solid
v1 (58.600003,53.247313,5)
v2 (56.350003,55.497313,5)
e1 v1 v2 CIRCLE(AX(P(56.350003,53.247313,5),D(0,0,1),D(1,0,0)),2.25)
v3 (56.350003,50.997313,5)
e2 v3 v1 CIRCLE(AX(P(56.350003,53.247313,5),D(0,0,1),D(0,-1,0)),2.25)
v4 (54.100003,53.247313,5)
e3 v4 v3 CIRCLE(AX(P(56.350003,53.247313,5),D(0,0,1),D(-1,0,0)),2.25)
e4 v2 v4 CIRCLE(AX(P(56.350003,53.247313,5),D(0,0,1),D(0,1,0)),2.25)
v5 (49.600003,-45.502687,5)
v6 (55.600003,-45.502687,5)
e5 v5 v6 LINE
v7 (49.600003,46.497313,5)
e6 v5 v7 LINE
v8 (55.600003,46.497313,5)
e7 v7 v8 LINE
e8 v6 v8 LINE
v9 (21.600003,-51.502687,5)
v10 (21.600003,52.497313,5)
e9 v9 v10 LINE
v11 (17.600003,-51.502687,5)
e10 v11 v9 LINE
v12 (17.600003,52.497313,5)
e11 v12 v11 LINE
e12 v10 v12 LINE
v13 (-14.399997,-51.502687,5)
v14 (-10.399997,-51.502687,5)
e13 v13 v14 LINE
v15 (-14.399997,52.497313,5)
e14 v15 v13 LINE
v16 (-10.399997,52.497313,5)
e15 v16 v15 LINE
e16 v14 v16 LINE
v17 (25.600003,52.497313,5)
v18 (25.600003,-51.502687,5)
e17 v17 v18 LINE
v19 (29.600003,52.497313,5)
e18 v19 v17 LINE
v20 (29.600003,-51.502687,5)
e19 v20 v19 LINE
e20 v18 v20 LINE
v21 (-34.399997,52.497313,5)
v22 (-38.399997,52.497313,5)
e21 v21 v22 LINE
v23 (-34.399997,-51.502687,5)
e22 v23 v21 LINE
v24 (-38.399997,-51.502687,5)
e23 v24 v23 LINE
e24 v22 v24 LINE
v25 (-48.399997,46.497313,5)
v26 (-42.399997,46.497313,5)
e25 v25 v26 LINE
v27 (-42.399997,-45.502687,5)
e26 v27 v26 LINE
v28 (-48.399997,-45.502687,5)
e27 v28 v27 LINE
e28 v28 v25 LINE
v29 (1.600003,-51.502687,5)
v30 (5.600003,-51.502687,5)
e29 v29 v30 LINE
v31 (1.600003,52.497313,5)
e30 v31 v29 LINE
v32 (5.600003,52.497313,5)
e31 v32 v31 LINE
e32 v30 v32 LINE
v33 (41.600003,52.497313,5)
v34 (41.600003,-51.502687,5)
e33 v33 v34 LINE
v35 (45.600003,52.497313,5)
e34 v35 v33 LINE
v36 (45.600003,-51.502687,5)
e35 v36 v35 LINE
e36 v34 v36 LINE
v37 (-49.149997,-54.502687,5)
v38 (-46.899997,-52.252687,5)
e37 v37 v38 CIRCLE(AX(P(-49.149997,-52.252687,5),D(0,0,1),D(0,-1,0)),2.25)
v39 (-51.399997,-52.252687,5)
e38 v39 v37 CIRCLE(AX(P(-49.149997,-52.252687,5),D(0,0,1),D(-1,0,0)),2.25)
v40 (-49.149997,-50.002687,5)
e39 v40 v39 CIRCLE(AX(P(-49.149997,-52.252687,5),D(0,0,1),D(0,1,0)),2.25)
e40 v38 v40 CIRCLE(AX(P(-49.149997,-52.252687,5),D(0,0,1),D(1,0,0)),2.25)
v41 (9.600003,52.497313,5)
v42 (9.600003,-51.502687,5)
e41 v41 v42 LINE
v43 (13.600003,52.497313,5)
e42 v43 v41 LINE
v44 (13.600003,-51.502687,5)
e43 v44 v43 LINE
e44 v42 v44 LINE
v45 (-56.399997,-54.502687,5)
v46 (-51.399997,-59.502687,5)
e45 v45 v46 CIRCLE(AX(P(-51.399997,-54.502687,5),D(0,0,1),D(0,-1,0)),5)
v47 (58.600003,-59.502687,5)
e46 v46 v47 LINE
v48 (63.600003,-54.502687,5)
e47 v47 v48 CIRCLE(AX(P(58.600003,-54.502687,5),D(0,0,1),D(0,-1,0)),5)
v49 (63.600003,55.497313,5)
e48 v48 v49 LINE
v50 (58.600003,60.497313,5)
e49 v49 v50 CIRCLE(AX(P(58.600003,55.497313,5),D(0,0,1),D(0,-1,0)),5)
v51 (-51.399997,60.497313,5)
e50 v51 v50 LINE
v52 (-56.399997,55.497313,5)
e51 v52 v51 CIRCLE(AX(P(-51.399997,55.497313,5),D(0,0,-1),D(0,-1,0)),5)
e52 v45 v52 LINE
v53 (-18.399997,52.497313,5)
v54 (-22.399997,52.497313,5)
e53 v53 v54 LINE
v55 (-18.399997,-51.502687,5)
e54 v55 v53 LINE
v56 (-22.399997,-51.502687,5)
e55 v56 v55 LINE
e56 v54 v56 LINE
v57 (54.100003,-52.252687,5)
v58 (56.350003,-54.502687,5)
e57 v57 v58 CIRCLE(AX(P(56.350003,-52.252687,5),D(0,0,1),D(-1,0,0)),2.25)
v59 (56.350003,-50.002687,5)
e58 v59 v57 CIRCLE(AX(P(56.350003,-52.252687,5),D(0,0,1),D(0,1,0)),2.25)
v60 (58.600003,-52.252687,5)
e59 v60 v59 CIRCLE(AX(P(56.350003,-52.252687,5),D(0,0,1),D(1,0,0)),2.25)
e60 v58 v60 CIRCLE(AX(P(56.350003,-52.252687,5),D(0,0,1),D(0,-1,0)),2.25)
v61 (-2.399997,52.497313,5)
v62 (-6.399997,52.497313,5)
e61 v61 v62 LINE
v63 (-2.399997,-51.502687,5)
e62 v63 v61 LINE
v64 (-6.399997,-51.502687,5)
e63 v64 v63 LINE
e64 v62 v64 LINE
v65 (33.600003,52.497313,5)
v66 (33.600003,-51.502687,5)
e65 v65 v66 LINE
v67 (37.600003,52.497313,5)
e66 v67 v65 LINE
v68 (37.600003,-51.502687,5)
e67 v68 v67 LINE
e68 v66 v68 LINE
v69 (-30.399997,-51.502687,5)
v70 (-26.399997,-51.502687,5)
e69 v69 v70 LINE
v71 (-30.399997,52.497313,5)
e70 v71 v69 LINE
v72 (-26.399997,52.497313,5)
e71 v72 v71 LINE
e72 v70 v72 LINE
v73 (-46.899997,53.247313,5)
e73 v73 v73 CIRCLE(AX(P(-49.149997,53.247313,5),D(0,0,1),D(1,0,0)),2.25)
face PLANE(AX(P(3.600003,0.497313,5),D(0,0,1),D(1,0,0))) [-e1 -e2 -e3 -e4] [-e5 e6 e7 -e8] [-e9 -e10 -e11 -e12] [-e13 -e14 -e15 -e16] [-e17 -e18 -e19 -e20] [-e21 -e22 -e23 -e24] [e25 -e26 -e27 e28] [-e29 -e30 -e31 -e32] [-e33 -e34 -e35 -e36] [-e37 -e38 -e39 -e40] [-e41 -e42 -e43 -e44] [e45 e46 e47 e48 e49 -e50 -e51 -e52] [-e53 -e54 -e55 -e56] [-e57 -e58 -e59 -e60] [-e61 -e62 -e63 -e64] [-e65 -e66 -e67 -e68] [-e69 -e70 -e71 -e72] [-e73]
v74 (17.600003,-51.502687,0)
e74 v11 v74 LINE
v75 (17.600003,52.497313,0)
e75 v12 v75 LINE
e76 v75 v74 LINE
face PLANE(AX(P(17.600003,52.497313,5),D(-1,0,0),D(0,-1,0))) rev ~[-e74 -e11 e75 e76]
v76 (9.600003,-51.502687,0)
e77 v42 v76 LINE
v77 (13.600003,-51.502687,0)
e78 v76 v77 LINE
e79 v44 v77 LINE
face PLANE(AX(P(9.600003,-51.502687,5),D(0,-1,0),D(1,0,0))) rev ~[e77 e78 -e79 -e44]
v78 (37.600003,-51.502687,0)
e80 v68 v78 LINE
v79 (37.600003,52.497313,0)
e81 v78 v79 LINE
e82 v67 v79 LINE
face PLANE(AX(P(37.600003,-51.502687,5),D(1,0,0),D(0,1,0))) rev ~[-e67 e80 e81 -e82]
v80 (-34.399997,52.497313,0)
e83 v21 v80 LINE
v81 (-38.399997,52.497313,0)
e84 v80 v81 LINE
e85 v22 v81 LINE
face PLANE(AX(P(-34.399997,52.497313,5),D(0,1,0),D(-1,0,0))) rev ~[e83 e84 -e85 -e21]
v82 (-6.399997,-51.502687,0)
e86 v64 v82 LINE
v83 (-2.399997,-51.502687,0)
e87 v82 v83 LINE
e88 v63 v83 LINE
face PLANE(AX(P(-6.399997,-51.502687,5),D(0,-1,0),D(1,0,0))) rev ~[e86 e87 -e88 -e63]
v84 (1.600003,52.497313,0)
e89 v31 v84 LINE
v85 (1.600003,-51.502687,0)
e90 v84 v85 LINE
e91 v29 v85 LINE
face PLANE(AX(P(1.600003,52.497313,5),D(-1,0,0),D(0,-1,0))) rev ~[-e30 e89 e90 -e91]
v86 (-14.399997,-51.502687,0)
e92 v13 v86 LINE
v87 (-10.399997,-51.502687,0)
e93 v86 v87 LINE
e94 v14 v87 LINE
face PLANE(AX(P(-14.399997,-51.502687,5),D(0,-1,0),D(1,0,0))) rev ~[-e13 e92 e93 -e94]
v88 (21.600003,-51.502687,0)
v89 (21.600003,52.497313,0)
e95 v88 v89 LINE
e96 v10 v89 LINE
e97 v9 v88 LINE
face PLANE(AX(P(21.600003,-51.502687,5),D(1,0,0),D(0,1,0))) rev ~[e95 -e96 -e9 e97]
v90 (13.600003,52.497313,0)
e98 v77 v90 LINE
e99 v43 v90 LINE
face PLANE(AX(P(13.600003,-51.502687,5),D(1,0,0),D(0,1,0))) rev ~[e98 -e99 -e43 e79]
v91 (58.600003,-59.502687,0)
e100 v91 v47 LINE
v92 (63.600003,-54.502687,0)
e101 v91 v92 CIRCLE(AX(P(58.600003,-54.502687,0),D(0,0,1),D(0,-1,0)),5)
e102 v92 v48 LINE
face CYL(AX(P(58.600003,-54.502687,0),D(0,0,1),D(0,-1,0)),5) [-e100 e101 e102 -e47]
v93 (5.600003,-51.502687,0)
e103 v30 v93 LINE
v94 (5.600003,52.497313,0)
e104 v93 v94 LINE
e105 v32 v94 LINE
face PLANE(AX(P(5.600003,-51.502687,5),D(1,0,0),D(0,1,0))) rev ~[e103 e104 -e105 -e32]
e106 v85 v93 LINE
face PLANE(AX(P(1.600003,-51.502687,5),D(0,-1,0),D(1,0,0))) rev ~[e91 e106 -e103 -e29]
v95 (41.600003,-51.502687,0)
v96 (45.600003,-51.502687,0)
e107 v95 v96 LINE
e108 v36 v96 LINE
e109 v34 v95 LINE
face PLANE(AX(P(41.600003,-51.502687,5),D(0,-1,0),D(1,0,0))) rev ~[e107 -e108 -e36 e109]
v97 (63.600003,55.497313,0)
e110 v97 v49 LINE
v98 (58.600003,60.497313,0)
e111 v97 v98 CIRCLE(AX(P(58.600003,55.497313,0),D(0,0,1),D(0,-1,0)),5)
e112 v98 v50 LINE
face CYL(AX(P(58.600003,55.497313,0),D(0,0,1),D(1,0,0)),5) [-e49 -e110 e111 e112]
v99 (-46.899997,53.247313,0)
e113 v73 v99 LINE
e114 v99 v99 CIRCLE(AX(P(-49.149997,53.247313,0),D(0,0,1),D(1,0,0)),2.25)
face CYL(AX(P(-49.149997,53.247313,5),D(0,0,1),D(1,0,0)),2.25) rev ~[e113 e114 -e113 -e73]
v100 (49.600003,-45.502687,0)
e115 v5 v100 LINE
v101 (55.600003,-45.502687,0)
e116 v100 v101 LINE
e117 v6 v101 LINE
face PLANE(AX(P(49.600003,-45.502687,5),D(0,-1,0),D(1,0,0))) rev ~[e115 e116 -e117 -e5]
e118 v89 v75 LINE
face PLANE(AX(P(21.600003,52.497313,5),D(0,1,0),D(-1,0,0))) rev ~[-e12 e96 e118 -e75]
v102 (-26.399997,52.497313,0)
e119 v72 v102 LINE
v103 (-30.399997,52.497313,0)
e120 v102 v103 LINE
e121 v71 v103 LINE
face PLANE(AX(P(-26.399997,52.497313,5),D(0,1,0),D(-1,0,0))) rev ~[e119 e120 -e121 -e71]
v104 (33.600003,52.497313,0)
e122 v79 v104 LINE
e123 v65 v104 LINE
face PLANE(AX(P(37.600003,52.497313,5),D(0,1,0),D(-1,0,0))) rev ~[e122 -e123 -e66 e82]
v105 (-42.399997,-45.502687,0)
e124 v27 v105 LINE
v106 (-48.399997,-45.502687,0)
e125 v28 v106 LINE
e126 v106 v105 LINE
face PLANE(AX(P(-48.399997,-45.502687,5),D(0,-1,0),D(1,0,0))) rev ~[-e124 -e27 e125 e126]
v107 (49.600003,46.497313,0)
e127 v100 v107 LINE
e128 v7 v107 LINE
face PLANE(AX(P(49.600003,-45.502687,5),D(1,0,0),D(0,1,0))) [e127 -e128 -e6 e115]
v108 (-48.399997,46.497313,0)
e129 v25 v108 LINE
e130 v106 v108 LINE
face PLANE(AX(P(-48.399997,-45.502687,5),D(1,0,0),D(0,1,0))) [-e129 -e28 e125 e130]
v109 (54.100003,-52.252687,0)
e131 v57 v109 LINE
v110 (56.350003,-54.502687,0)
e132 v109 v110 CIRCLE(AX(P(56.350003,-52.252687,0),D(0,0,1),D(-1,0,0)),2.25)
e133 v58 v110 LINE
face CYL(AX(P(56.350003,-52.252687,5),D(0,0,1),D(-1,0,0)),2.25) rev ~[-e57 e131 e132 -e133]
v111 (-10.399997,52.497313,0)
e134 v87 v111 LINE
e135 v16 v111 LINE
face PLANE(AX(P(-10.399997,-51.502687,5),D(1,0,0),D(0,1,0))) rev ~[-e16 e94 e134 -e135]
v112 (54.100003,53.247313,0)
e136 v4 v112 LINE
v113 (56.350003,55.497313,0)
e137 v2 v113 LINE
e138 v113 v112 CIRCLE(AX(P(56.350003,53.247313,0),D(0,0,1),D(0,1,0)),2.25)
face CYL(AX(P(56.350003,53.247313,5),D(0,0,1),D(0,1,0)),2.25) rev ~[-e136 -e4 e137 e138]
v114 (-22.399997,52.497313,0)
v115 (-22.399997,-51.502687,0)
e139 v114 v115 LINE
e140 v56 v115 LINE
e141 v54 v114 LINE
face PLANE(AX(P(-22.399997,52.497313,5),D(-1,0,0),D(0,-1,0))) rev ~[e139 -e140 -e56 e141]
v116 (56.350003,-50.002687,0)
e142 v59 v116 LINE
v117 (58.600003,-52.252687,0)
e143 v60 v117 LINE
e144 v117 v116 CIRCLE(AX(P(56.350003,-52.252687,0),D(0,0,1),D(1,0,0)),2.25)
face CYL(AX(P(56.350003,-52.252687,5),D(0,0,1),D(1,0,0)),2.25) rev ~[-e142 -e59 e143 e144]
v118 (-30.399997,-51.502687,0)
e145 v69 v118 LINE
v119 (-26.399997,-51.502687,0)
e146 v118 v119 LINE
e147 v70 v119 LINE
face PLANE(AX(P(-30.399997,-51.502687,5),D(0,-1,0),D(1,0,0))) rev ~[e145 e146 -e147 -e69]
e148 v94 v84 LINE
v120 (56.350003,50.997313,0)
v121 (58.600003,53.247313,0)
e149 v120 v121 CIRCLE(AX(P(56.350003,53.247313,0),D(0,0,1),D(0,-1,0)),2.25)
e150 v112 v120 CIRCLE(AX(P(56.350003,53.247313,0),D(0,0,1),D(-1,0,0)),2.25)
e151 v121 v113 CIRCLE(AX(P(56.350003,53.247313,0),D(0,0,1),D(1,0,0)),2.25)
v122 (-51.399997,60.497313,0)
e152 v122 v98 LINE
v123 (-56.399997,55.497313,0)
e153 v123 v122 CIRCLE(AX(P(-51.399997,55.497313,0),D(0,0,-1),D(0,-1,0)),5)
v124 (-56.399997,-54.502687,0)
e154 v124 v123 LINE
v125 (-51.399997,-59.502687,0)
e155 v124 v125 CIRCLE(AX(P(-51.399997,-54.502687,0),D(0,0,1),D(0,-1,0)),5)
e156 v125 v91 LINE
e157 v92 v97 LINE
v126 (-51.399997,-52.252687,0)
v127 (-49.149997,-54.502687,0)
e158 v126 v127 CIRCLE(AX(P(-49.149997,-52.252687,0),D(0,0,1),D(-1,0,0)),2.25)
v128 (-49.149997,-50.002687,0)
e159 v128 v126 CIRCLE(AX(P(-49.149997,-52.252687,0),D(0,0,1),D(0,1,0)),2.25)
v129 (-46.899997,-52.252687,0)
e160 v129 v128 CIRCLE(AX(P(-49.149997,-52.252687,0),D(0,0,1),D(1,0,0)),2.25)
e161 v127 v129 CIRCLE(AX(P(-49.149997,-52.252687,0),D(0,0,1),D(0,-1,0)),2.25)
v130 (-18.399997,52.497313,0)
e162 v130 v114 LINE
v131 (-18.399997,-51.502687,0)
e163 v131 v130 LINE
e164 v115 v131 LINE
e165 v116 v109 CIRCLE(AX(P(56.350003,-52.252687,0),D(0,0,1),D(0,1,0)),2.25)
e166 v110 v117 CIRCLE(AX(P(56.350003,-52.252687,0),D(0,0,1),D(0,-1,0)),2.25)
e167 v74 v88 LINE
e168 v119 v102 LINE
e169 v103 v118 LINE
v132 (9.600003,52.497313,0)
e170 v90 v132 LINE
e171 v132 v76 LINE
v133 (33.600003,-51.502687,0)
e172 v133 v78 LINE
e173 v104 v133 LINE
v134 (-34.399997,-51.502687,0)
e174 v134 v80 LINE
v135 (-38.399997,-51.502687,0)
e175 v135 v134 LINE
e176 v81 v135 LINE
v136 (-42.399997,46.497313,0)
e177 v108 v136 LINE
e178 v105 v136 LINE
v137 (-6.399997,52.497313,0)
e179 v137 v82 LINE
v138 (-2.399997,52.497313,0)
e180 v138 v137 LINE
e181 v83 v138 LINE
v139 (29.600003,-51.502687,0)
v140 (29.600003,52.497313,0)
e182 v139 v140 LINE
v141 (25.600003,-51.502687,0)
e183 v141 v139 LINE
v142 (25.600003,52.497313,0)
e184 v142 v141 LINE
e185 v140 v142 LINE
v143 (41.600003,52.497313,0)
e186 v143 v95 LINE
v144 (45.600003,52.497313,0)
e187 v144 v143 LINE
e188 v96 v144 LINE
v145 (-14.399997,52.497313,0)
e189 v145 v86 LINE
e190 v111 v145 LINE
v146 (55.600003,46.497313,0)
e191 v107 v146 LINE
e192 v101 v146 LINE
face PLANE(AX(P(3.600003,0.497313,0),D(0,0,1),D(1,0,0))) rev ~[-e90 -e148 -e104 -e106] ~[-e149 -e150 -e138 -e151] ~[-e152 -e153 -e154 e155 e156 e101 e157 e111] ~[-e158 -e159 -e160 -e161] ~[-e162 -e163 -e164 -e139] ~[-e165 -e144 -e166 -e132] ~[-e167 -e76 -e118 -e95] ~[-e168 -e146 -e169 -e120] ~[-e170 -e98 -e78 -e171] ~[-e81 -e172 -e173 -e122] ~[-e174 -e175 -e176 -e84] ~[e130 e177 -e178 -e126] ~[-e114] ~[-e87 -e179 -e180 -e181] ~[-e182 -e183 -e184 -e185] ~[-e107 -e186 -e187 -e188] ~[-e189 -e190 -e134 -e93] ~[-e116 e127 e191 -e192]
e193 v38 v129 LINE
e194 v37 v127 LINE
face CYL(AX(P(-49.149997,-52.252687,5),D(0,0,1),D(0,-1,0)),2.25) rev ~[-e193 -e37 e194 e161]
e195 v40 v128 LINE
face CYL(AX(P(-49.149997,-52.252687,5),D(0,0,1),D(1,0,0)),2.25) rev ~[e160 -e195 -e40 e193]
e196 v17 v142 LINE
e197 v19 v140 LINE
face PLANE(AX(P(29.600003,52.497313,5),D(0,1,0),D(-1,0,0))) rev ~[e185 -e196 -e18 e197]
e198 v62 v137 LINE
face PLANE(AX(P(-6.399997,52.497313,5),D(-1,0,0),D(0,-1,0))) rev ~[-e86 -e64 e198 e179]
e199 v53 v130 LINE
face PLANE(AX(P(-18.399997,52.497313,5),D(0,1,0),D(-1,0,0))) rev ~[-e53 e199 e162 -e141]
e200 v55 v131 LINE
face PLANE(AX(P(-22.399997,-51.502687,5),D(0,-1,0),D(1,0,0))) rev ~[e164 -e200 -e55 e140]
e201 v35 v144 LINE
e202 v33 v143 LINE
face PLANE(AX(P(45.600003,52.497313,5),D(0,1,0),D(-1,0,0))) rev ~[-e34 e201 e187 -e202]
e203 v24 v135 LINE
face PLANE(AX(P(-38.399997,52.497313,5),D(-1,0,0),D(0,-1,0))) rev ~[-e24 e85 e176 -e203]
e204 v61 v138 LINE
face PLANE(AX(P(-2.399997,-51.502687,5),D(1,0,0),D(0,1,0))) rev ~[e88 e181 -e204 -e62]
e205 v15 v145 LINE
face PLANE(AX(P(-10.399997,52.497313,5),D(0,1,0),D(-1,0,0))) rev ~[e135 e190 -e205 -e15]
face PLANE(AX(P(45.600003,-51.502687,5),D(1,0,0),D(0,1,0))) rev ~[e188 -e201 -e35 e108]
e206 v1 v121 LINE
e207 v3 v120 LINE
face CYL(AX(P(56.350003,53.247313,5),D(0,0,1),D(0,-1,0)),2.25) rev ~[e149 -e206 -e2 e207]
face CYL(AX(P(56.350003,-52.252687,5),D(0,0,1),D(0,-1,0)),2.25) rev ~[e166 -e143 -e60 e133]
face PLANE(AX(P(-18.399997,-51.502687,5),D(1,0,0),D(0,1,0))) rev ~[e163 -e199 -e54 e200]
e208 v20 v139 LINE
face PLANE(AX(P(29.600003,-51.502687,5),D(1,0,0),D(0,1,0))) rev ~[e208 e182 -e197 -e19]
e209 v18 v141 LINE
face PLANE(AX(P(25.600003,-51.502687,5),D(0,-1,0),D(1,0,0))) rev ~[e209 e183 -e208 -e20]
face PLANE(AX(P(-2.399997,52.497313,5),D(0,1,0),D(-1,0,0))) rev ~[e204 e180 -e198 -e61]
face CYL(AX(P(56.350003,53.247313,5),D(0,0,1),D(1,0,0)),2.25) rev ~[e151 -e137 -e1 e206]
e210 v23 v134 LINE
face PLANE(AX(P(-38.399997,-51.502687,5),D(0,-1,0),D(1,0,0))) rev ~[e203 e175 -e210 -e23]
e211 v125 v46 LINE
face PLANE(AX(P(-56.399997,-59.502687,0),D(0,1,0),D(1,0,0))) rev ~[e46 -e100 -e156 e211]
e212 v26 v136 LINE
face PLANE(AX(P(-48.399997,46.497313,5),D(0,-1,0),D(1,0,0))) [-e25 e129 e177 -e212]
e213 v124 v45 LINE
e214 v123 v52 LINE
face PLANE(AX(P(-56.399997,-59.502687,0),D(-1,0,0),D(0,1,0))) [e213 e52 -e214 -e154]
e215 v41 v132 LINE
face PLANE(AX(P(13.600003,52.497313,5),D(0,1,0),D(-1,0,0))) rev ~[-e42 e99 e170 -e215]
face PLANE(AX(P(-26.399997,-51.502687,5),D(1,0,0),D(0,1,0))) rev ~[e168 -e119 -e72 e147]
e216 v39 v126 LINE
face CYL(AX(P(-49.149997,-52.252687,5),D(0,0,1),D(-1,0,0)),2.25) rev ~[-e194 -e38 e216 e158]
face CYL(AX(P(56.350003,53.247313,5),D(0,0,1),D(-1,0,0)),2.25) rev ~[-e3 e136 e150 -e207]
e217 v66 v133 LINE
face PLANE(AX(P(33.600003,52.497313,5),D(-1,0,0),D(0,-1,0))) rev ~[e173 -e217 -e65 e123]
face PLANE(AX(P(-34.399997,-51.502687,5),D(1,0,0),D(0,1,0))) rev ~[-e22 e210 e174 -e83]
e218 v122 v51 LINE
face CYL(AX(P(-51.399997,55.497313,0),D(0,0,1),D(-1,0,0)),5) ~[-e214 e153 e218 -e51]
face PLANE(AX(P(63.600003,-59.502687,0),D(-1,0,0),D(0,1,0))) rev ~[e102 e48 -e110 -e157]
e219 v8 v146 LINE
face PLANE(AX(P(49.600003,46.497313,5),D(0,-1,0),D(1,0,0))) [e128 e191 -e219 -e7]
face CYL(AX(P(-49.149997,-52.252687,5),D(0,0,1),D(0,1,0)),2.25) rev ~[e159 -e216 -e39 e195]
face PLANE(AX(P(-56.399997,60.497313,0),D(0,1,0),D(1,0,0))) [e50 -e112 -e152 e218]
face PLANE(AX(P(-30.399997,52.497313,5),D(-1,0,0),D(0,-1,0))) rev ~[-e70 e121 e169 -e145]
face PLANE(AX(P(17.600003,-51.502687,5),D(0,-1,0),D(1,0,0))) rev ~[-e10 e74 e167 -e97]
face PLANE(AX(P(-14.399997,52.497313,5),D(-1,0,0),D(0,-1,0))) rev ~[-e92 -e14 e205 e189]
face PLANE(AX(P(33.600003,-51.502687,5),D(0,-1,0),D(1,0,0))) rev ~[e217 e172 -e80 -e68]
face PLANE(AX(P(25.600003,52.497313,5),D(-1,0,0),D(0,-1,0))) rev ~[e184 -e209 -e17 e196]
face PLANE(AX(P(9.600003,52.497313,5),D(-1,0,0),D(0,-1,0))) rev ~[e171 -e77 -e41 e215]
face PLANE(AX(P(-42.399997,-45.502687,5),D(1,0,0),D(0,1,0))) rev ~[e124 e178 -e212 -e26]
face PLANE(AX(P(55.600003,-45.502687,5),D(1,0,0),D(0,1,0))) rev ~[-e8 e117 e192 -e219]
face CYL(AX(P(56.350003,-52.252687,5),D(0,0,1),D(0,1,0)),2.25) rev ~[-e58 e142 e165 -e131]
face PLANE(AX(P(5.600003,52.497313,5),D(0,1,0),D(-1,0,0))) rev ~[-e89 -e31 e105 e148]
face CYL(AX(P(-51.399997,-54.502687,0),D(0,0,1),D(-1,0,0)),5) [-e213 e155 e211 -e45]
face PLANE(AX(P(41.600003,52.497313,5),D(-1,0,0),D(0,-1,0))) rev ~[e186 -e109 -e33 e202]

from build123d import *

# Parameters (mm, degrees)
F0_W     = 120
F0_H     = 120
F1_DEPTH = 5
F2_R     = 5
F3_R     = 2.25
F4_DEPTH = 25
F5_W     = 6
F5_H     = 92
F6_DEPTH = 25
F7_DEPTH = 25
F8_DEPTH = 25


with BuildPart() as f1:
    # F0 (on Top) → F1 (new body)
    with BuildSketch(Plane.XY):
        with Locations((3.6000026762, 0.4973127641)):
            Rectangle(F0_W, F0_H)
    extrude(amount=F1_DEPTH)

    # F2
    f2_edges = [f1.edges().sort_by_distance(p)[0] for p in [
        (-56.399997, 60.497313, 2.5),
        (63.600003, 60.497313, 2.5),
        (63.600003, -59.502687, 2.5),
        (-56.399997, -59.502687, 2.5),
    ]]
    fillet(f2_edges, radius=F2_R)

    # F3 (on face) → F4 (cut)
    with BuildSketch(Plane.XY.offset(5)):
        with Locations((-49.1499973238, 53.2473127641)):
            Circle(F3_R)
        with BuildLine():
            ThreePointArc((56.3500026762, 50.9973127641), (57.9409929339, 51.6563225064), (58.6000026762, 53.2473127641))
            Line((58.6000026762, 53.2473127641), (56.3500026762, 53.2473127641))
            Line((56.3500026762, 53.2473127641), (56.3500026762, 50.9973127641))
        make_face()
        with BuildLine():
            Line((56.3500026762, 53.2473127641), (58.6000026762, 53.2473127641))
            ThreePointArc((58.6000026762, 53.2473127641), (57.9409929339, 54.8383030217), (56.3500026762, 55.4973127641))
            Line((56.3500026762, 55.4973127641), (56.3500026762, 53.2473127641))
        make_face()
        with BuildLine():
            Line((56.3500026762, 50.9973127641), (56.3500026762, 53.2473127641))
            Line((56.3500026762, 53.2473127641), (54.1000026762, 53.2473127641))
            ThreePointArc((54.1000026762, 53.2473127641), (54.7590124186, 51.6563225064), (56.3500026762, 50.9973127641))
        make_face()
        with BuildLine():
            Line((54.1000026762, 53.2473127641), (56.3500026762, 53.2473127641))
            Line((56.3500026762, 53.2473127641), (56.3500026762, 55.4973127641))
            ThreePointArc((56.3500026762, 55.4973127641), (54.7590124186, 54.8383030217), (54.1000026762, 53.2473127641))
        make_face()
        with BuildLine():
            ThreePointArc((-51.3999973238, -52.2526872359), (-50.7409875814, -53.8436774936), (-49.1499973238, -54.5026872359))
            Line((-49.1499973238, -54.5026872359), (-49.1499973238, -52.2526872359))
            Line((-49.1499973238, -52.2526872359), (-51.3999973238, -52.2526872359))
        make_face()
        with BuildLine():
            Line((-49.1499973238, -52.2526872359), (-49.1499973238, -54.5026872359))
            ThreePointArc((-49.1499973238, -54.5026872359), (-47.5590070661, -53.8436774936), (-46.8999973238, -52.2526872359))
            Line((-46.8999973238, -52.2526872359), (-49.1499973238, -52.2526872359))
        make_face()
        with BuildLine():
            Line((-51.3999973238, -52.2526872359), (-49.1499973238, -52.2526872359))
            Line((-49.1499973238, -52.2526872359), (-49.1499973238, -50.0026872359))
            ThreePointArc((-49.1499973238, -50.0026872359), (-50.7409875814, -50.6616969783), (-51.3999973238, -52.2526872359))
        make_face()
        with BuildLine():
            Line((-49.1499973238, -50.0026872359), (-49.1499973238, -52.2526872359))
            Line((-49.1499973238, -52.2526872359), (-46.8999973238, -52.2526872359))
            ThreePointArc((-46.8999973238, -52.2526872359), (-47.5590070661, -50.6616969783), (-49.1499973238, -50.0026872359))
        make_face()
        with BuildLine():
            ThreePointArc((54.1000026762, -52.2526872359), (54.7590124186, -53.8436774936), (56.3500026762, -54.5026872359))
            Line((56.3500026762, -54.5026872359), (56.3500026762, -52.2526872359))
            Line((56.3500026762, -52.2526872359), (54.1000026762, -52.2526872359))
        make_face()
        with BuildLine():
            Line((56.3500026762, -52.2526872359), (56.3500026762, -54.5026872359))
            ThreePointArc((56.3500026762, -54.5026872359), (57.9409929339, -53.8436774936), (58.6000026762, -52.2526872359))
            Line((58.6000026762, -52.2526872359), (56.3500026762, -52.2526872359))
        make_face()
        with BuildLine():
            Line((54.1000026762, -52.2526872359), (56.3500026762, -52.2526872359))
            Line((56.3500026762, -52.2526872359), (56.3500026762, -50.0026872359))
            ThreePointArc((56.3500026762, -50.0026872359), (54.7590124186, -50.6616969783), (54.1000026762, -52.2526872359))
        make_face()
        with BuildLine():
            Line((56.3500026762, -50.0026872359), (56.3500026762, -52.2526872359))
            Line((56.3500026762, -52.2526872359), (58.6000026762, -52.2526872359))
            ThreePointArc((58.6000026762, -52.2526872359), (57.9409929339, -50.6616969783), (56.3500026762, -50.0026872359))
        make_face()
    extrude(amount=-F4_DEPTH, mode=Mode.SUBTRACT)

    # F5 (on face) → F6 (cut)
    with BuildSketch(Plane.XY.offset(5)):
        with Locations((-45.3999973238, 0.4973127641)):
            Rectangle(F5_W, F5_H)
    extrude(amount=-F6_DEPTH, mode=Mode.SUBTRACT)

    # F5 (on face) → F7 (cut)
    with BuildSketch(Plane.XY.offset(5)):
        Polygon((-34.3999973238, 52.4973127641), (-38.3999973238, 52.4973127641), (-38.3999973238, 46.4973127641), (-38.3999973238, -45.5026872359), (-38.3999973238, -51.5026872359), (-34.3999973238, -51.5026872359), (-34.3999973238, -45.5026872359), (-34.3999973238, 46.4973127641), align=None)
        Polygon((-26.3999973238, 52.4973127641), (-30.3999973238, 52.4973127641), (-30.3999973238, 46.4973127641), (-30.3999973238, -45.5026872359), (-30.3999973238, -51.5026872359), (-26.3999973238, -51.5026872359), (-26.3999973238, -45.5026872359), (-26.3999973238, 46.4973127641), align=None)
        Polygon((-18.3999973238, 52.4973127641), (-22.3999973238, 52.4973127641), (-22.3999973238, 46.4973127641), (-22.3999973238, -45.5026872359), (-22.3999973238, -51.5026872359), (-18.3999973238, -51.5026872359), (-18.3999973238, -45.5026872359), (-18.3999973238, 46.4973127641), align=None)
        Polygon((-10.3999973238, 52.4973127641), (-14.3999973238, 52.4973127641), (-14.3999973238, 46.4973127641), (-14.3999973238, -45.5026872359), (-14.3999973238, -51.5026872359), (-10.3999973238, -51.5026872359), (-10.3999973238, -45.5026872359), (-10.3999973238, 46.4973127641), align=None)
        Polygon((-2.3999973238, 52.4973127641), (-6.3999973238, 52.4973127641), (-6.3999973238, 46.4973127641), (-6.3999973238, -45.5026872359), (-6.3999973238, -51.5026872359), (-2.3999973238, -51.5026872359), (-2.3999973238, -45.5026872359), (-2.3999973238, 46.4973127641), align=None)
        Polygon((5.6000026762, 52.4973127641), (1.6000026762, 52.4973127641), (1.6000026762, 46.4973127641), (1.6000026762, -45.5026872359), (1.6000026762, -51.5026872359), (5.6000026762, -51.5026872359), (5.6000026762, -45.5026872359), (5.6000026762, 46.4973127641), align=None)
        Polygon((13.6000026762, 46.4973127641), (13.6000026762, 52.4973127641), (9.6000026762, 52.4973127641), (9.6000026762, 46.4973127641), (9.6000026762, -45.5026872359), (9.6000026762, -51.5026872359), (13.6000026762, -51.5026872359), (13.6000026762, -45.5026872359), align=None)
        Polygon((21.6000026762, 46.4973127641), (21.6000026762, 52.4973127641), (17.6000026762, 52.4973127641), (17.6000026762, 46.4973127641), (17.6000026762, -45.5026872359), (17.6000026762, -51.5026872359), (21.6000026762, -51.5026872359), (21.6000026762, -45.5026872359), align=None)
        Polygon((29.6000026762, 46.4973127641), (29.6000026762, 52.4973127641), (25.6000026762, 52.4973127641), (25.6000026762, 46.4973127641), (25.6000026762, -45.5026872359), (25.6000026762, -51.5026872359), (29.6000026762, -51.5026872359), (29.6000026762, -45.5026872359), align=None)
        Polygon((37.6000026762, 46.4973127641), (37.6000026762, 52.4973127641), (33.6000026762, 52.4973127641), (33.6000026762, 46.4973127641), (33.6000026762, -45.5026872359), (33.6000026762, -51.5026872359), (37.6000026762, -51.5026872359), (37.6000026762, -45.5026872359), align=None)
        Polygon((45.6000026762, 46.4973127641), (45.6000026762, 52.4973127641), (41.6000026762, 52.4973127641), (41.6000026762, 46.4973127641), (41.6000026762, -45.5026872359), (41.6000026762, -51.5026872359), (45.6000026762, -51.5026872359), (45.6000026762, -45.5026872359), align=None)
    extrude(amount=-F7_DEPTH, mode=Mode.SUBTRACT)

    # F5 (on face) → F8 (cut)
    with BuildSketch(Plane.XY.offset(5)):
        with Locations((52.6000026762, 0.4973127641)):
            Rectangle(F5_W, F5_H)
    extrude(amount=-F8_DEPTH, mode=Mode.SUBTRACT)


solid = f1.part
